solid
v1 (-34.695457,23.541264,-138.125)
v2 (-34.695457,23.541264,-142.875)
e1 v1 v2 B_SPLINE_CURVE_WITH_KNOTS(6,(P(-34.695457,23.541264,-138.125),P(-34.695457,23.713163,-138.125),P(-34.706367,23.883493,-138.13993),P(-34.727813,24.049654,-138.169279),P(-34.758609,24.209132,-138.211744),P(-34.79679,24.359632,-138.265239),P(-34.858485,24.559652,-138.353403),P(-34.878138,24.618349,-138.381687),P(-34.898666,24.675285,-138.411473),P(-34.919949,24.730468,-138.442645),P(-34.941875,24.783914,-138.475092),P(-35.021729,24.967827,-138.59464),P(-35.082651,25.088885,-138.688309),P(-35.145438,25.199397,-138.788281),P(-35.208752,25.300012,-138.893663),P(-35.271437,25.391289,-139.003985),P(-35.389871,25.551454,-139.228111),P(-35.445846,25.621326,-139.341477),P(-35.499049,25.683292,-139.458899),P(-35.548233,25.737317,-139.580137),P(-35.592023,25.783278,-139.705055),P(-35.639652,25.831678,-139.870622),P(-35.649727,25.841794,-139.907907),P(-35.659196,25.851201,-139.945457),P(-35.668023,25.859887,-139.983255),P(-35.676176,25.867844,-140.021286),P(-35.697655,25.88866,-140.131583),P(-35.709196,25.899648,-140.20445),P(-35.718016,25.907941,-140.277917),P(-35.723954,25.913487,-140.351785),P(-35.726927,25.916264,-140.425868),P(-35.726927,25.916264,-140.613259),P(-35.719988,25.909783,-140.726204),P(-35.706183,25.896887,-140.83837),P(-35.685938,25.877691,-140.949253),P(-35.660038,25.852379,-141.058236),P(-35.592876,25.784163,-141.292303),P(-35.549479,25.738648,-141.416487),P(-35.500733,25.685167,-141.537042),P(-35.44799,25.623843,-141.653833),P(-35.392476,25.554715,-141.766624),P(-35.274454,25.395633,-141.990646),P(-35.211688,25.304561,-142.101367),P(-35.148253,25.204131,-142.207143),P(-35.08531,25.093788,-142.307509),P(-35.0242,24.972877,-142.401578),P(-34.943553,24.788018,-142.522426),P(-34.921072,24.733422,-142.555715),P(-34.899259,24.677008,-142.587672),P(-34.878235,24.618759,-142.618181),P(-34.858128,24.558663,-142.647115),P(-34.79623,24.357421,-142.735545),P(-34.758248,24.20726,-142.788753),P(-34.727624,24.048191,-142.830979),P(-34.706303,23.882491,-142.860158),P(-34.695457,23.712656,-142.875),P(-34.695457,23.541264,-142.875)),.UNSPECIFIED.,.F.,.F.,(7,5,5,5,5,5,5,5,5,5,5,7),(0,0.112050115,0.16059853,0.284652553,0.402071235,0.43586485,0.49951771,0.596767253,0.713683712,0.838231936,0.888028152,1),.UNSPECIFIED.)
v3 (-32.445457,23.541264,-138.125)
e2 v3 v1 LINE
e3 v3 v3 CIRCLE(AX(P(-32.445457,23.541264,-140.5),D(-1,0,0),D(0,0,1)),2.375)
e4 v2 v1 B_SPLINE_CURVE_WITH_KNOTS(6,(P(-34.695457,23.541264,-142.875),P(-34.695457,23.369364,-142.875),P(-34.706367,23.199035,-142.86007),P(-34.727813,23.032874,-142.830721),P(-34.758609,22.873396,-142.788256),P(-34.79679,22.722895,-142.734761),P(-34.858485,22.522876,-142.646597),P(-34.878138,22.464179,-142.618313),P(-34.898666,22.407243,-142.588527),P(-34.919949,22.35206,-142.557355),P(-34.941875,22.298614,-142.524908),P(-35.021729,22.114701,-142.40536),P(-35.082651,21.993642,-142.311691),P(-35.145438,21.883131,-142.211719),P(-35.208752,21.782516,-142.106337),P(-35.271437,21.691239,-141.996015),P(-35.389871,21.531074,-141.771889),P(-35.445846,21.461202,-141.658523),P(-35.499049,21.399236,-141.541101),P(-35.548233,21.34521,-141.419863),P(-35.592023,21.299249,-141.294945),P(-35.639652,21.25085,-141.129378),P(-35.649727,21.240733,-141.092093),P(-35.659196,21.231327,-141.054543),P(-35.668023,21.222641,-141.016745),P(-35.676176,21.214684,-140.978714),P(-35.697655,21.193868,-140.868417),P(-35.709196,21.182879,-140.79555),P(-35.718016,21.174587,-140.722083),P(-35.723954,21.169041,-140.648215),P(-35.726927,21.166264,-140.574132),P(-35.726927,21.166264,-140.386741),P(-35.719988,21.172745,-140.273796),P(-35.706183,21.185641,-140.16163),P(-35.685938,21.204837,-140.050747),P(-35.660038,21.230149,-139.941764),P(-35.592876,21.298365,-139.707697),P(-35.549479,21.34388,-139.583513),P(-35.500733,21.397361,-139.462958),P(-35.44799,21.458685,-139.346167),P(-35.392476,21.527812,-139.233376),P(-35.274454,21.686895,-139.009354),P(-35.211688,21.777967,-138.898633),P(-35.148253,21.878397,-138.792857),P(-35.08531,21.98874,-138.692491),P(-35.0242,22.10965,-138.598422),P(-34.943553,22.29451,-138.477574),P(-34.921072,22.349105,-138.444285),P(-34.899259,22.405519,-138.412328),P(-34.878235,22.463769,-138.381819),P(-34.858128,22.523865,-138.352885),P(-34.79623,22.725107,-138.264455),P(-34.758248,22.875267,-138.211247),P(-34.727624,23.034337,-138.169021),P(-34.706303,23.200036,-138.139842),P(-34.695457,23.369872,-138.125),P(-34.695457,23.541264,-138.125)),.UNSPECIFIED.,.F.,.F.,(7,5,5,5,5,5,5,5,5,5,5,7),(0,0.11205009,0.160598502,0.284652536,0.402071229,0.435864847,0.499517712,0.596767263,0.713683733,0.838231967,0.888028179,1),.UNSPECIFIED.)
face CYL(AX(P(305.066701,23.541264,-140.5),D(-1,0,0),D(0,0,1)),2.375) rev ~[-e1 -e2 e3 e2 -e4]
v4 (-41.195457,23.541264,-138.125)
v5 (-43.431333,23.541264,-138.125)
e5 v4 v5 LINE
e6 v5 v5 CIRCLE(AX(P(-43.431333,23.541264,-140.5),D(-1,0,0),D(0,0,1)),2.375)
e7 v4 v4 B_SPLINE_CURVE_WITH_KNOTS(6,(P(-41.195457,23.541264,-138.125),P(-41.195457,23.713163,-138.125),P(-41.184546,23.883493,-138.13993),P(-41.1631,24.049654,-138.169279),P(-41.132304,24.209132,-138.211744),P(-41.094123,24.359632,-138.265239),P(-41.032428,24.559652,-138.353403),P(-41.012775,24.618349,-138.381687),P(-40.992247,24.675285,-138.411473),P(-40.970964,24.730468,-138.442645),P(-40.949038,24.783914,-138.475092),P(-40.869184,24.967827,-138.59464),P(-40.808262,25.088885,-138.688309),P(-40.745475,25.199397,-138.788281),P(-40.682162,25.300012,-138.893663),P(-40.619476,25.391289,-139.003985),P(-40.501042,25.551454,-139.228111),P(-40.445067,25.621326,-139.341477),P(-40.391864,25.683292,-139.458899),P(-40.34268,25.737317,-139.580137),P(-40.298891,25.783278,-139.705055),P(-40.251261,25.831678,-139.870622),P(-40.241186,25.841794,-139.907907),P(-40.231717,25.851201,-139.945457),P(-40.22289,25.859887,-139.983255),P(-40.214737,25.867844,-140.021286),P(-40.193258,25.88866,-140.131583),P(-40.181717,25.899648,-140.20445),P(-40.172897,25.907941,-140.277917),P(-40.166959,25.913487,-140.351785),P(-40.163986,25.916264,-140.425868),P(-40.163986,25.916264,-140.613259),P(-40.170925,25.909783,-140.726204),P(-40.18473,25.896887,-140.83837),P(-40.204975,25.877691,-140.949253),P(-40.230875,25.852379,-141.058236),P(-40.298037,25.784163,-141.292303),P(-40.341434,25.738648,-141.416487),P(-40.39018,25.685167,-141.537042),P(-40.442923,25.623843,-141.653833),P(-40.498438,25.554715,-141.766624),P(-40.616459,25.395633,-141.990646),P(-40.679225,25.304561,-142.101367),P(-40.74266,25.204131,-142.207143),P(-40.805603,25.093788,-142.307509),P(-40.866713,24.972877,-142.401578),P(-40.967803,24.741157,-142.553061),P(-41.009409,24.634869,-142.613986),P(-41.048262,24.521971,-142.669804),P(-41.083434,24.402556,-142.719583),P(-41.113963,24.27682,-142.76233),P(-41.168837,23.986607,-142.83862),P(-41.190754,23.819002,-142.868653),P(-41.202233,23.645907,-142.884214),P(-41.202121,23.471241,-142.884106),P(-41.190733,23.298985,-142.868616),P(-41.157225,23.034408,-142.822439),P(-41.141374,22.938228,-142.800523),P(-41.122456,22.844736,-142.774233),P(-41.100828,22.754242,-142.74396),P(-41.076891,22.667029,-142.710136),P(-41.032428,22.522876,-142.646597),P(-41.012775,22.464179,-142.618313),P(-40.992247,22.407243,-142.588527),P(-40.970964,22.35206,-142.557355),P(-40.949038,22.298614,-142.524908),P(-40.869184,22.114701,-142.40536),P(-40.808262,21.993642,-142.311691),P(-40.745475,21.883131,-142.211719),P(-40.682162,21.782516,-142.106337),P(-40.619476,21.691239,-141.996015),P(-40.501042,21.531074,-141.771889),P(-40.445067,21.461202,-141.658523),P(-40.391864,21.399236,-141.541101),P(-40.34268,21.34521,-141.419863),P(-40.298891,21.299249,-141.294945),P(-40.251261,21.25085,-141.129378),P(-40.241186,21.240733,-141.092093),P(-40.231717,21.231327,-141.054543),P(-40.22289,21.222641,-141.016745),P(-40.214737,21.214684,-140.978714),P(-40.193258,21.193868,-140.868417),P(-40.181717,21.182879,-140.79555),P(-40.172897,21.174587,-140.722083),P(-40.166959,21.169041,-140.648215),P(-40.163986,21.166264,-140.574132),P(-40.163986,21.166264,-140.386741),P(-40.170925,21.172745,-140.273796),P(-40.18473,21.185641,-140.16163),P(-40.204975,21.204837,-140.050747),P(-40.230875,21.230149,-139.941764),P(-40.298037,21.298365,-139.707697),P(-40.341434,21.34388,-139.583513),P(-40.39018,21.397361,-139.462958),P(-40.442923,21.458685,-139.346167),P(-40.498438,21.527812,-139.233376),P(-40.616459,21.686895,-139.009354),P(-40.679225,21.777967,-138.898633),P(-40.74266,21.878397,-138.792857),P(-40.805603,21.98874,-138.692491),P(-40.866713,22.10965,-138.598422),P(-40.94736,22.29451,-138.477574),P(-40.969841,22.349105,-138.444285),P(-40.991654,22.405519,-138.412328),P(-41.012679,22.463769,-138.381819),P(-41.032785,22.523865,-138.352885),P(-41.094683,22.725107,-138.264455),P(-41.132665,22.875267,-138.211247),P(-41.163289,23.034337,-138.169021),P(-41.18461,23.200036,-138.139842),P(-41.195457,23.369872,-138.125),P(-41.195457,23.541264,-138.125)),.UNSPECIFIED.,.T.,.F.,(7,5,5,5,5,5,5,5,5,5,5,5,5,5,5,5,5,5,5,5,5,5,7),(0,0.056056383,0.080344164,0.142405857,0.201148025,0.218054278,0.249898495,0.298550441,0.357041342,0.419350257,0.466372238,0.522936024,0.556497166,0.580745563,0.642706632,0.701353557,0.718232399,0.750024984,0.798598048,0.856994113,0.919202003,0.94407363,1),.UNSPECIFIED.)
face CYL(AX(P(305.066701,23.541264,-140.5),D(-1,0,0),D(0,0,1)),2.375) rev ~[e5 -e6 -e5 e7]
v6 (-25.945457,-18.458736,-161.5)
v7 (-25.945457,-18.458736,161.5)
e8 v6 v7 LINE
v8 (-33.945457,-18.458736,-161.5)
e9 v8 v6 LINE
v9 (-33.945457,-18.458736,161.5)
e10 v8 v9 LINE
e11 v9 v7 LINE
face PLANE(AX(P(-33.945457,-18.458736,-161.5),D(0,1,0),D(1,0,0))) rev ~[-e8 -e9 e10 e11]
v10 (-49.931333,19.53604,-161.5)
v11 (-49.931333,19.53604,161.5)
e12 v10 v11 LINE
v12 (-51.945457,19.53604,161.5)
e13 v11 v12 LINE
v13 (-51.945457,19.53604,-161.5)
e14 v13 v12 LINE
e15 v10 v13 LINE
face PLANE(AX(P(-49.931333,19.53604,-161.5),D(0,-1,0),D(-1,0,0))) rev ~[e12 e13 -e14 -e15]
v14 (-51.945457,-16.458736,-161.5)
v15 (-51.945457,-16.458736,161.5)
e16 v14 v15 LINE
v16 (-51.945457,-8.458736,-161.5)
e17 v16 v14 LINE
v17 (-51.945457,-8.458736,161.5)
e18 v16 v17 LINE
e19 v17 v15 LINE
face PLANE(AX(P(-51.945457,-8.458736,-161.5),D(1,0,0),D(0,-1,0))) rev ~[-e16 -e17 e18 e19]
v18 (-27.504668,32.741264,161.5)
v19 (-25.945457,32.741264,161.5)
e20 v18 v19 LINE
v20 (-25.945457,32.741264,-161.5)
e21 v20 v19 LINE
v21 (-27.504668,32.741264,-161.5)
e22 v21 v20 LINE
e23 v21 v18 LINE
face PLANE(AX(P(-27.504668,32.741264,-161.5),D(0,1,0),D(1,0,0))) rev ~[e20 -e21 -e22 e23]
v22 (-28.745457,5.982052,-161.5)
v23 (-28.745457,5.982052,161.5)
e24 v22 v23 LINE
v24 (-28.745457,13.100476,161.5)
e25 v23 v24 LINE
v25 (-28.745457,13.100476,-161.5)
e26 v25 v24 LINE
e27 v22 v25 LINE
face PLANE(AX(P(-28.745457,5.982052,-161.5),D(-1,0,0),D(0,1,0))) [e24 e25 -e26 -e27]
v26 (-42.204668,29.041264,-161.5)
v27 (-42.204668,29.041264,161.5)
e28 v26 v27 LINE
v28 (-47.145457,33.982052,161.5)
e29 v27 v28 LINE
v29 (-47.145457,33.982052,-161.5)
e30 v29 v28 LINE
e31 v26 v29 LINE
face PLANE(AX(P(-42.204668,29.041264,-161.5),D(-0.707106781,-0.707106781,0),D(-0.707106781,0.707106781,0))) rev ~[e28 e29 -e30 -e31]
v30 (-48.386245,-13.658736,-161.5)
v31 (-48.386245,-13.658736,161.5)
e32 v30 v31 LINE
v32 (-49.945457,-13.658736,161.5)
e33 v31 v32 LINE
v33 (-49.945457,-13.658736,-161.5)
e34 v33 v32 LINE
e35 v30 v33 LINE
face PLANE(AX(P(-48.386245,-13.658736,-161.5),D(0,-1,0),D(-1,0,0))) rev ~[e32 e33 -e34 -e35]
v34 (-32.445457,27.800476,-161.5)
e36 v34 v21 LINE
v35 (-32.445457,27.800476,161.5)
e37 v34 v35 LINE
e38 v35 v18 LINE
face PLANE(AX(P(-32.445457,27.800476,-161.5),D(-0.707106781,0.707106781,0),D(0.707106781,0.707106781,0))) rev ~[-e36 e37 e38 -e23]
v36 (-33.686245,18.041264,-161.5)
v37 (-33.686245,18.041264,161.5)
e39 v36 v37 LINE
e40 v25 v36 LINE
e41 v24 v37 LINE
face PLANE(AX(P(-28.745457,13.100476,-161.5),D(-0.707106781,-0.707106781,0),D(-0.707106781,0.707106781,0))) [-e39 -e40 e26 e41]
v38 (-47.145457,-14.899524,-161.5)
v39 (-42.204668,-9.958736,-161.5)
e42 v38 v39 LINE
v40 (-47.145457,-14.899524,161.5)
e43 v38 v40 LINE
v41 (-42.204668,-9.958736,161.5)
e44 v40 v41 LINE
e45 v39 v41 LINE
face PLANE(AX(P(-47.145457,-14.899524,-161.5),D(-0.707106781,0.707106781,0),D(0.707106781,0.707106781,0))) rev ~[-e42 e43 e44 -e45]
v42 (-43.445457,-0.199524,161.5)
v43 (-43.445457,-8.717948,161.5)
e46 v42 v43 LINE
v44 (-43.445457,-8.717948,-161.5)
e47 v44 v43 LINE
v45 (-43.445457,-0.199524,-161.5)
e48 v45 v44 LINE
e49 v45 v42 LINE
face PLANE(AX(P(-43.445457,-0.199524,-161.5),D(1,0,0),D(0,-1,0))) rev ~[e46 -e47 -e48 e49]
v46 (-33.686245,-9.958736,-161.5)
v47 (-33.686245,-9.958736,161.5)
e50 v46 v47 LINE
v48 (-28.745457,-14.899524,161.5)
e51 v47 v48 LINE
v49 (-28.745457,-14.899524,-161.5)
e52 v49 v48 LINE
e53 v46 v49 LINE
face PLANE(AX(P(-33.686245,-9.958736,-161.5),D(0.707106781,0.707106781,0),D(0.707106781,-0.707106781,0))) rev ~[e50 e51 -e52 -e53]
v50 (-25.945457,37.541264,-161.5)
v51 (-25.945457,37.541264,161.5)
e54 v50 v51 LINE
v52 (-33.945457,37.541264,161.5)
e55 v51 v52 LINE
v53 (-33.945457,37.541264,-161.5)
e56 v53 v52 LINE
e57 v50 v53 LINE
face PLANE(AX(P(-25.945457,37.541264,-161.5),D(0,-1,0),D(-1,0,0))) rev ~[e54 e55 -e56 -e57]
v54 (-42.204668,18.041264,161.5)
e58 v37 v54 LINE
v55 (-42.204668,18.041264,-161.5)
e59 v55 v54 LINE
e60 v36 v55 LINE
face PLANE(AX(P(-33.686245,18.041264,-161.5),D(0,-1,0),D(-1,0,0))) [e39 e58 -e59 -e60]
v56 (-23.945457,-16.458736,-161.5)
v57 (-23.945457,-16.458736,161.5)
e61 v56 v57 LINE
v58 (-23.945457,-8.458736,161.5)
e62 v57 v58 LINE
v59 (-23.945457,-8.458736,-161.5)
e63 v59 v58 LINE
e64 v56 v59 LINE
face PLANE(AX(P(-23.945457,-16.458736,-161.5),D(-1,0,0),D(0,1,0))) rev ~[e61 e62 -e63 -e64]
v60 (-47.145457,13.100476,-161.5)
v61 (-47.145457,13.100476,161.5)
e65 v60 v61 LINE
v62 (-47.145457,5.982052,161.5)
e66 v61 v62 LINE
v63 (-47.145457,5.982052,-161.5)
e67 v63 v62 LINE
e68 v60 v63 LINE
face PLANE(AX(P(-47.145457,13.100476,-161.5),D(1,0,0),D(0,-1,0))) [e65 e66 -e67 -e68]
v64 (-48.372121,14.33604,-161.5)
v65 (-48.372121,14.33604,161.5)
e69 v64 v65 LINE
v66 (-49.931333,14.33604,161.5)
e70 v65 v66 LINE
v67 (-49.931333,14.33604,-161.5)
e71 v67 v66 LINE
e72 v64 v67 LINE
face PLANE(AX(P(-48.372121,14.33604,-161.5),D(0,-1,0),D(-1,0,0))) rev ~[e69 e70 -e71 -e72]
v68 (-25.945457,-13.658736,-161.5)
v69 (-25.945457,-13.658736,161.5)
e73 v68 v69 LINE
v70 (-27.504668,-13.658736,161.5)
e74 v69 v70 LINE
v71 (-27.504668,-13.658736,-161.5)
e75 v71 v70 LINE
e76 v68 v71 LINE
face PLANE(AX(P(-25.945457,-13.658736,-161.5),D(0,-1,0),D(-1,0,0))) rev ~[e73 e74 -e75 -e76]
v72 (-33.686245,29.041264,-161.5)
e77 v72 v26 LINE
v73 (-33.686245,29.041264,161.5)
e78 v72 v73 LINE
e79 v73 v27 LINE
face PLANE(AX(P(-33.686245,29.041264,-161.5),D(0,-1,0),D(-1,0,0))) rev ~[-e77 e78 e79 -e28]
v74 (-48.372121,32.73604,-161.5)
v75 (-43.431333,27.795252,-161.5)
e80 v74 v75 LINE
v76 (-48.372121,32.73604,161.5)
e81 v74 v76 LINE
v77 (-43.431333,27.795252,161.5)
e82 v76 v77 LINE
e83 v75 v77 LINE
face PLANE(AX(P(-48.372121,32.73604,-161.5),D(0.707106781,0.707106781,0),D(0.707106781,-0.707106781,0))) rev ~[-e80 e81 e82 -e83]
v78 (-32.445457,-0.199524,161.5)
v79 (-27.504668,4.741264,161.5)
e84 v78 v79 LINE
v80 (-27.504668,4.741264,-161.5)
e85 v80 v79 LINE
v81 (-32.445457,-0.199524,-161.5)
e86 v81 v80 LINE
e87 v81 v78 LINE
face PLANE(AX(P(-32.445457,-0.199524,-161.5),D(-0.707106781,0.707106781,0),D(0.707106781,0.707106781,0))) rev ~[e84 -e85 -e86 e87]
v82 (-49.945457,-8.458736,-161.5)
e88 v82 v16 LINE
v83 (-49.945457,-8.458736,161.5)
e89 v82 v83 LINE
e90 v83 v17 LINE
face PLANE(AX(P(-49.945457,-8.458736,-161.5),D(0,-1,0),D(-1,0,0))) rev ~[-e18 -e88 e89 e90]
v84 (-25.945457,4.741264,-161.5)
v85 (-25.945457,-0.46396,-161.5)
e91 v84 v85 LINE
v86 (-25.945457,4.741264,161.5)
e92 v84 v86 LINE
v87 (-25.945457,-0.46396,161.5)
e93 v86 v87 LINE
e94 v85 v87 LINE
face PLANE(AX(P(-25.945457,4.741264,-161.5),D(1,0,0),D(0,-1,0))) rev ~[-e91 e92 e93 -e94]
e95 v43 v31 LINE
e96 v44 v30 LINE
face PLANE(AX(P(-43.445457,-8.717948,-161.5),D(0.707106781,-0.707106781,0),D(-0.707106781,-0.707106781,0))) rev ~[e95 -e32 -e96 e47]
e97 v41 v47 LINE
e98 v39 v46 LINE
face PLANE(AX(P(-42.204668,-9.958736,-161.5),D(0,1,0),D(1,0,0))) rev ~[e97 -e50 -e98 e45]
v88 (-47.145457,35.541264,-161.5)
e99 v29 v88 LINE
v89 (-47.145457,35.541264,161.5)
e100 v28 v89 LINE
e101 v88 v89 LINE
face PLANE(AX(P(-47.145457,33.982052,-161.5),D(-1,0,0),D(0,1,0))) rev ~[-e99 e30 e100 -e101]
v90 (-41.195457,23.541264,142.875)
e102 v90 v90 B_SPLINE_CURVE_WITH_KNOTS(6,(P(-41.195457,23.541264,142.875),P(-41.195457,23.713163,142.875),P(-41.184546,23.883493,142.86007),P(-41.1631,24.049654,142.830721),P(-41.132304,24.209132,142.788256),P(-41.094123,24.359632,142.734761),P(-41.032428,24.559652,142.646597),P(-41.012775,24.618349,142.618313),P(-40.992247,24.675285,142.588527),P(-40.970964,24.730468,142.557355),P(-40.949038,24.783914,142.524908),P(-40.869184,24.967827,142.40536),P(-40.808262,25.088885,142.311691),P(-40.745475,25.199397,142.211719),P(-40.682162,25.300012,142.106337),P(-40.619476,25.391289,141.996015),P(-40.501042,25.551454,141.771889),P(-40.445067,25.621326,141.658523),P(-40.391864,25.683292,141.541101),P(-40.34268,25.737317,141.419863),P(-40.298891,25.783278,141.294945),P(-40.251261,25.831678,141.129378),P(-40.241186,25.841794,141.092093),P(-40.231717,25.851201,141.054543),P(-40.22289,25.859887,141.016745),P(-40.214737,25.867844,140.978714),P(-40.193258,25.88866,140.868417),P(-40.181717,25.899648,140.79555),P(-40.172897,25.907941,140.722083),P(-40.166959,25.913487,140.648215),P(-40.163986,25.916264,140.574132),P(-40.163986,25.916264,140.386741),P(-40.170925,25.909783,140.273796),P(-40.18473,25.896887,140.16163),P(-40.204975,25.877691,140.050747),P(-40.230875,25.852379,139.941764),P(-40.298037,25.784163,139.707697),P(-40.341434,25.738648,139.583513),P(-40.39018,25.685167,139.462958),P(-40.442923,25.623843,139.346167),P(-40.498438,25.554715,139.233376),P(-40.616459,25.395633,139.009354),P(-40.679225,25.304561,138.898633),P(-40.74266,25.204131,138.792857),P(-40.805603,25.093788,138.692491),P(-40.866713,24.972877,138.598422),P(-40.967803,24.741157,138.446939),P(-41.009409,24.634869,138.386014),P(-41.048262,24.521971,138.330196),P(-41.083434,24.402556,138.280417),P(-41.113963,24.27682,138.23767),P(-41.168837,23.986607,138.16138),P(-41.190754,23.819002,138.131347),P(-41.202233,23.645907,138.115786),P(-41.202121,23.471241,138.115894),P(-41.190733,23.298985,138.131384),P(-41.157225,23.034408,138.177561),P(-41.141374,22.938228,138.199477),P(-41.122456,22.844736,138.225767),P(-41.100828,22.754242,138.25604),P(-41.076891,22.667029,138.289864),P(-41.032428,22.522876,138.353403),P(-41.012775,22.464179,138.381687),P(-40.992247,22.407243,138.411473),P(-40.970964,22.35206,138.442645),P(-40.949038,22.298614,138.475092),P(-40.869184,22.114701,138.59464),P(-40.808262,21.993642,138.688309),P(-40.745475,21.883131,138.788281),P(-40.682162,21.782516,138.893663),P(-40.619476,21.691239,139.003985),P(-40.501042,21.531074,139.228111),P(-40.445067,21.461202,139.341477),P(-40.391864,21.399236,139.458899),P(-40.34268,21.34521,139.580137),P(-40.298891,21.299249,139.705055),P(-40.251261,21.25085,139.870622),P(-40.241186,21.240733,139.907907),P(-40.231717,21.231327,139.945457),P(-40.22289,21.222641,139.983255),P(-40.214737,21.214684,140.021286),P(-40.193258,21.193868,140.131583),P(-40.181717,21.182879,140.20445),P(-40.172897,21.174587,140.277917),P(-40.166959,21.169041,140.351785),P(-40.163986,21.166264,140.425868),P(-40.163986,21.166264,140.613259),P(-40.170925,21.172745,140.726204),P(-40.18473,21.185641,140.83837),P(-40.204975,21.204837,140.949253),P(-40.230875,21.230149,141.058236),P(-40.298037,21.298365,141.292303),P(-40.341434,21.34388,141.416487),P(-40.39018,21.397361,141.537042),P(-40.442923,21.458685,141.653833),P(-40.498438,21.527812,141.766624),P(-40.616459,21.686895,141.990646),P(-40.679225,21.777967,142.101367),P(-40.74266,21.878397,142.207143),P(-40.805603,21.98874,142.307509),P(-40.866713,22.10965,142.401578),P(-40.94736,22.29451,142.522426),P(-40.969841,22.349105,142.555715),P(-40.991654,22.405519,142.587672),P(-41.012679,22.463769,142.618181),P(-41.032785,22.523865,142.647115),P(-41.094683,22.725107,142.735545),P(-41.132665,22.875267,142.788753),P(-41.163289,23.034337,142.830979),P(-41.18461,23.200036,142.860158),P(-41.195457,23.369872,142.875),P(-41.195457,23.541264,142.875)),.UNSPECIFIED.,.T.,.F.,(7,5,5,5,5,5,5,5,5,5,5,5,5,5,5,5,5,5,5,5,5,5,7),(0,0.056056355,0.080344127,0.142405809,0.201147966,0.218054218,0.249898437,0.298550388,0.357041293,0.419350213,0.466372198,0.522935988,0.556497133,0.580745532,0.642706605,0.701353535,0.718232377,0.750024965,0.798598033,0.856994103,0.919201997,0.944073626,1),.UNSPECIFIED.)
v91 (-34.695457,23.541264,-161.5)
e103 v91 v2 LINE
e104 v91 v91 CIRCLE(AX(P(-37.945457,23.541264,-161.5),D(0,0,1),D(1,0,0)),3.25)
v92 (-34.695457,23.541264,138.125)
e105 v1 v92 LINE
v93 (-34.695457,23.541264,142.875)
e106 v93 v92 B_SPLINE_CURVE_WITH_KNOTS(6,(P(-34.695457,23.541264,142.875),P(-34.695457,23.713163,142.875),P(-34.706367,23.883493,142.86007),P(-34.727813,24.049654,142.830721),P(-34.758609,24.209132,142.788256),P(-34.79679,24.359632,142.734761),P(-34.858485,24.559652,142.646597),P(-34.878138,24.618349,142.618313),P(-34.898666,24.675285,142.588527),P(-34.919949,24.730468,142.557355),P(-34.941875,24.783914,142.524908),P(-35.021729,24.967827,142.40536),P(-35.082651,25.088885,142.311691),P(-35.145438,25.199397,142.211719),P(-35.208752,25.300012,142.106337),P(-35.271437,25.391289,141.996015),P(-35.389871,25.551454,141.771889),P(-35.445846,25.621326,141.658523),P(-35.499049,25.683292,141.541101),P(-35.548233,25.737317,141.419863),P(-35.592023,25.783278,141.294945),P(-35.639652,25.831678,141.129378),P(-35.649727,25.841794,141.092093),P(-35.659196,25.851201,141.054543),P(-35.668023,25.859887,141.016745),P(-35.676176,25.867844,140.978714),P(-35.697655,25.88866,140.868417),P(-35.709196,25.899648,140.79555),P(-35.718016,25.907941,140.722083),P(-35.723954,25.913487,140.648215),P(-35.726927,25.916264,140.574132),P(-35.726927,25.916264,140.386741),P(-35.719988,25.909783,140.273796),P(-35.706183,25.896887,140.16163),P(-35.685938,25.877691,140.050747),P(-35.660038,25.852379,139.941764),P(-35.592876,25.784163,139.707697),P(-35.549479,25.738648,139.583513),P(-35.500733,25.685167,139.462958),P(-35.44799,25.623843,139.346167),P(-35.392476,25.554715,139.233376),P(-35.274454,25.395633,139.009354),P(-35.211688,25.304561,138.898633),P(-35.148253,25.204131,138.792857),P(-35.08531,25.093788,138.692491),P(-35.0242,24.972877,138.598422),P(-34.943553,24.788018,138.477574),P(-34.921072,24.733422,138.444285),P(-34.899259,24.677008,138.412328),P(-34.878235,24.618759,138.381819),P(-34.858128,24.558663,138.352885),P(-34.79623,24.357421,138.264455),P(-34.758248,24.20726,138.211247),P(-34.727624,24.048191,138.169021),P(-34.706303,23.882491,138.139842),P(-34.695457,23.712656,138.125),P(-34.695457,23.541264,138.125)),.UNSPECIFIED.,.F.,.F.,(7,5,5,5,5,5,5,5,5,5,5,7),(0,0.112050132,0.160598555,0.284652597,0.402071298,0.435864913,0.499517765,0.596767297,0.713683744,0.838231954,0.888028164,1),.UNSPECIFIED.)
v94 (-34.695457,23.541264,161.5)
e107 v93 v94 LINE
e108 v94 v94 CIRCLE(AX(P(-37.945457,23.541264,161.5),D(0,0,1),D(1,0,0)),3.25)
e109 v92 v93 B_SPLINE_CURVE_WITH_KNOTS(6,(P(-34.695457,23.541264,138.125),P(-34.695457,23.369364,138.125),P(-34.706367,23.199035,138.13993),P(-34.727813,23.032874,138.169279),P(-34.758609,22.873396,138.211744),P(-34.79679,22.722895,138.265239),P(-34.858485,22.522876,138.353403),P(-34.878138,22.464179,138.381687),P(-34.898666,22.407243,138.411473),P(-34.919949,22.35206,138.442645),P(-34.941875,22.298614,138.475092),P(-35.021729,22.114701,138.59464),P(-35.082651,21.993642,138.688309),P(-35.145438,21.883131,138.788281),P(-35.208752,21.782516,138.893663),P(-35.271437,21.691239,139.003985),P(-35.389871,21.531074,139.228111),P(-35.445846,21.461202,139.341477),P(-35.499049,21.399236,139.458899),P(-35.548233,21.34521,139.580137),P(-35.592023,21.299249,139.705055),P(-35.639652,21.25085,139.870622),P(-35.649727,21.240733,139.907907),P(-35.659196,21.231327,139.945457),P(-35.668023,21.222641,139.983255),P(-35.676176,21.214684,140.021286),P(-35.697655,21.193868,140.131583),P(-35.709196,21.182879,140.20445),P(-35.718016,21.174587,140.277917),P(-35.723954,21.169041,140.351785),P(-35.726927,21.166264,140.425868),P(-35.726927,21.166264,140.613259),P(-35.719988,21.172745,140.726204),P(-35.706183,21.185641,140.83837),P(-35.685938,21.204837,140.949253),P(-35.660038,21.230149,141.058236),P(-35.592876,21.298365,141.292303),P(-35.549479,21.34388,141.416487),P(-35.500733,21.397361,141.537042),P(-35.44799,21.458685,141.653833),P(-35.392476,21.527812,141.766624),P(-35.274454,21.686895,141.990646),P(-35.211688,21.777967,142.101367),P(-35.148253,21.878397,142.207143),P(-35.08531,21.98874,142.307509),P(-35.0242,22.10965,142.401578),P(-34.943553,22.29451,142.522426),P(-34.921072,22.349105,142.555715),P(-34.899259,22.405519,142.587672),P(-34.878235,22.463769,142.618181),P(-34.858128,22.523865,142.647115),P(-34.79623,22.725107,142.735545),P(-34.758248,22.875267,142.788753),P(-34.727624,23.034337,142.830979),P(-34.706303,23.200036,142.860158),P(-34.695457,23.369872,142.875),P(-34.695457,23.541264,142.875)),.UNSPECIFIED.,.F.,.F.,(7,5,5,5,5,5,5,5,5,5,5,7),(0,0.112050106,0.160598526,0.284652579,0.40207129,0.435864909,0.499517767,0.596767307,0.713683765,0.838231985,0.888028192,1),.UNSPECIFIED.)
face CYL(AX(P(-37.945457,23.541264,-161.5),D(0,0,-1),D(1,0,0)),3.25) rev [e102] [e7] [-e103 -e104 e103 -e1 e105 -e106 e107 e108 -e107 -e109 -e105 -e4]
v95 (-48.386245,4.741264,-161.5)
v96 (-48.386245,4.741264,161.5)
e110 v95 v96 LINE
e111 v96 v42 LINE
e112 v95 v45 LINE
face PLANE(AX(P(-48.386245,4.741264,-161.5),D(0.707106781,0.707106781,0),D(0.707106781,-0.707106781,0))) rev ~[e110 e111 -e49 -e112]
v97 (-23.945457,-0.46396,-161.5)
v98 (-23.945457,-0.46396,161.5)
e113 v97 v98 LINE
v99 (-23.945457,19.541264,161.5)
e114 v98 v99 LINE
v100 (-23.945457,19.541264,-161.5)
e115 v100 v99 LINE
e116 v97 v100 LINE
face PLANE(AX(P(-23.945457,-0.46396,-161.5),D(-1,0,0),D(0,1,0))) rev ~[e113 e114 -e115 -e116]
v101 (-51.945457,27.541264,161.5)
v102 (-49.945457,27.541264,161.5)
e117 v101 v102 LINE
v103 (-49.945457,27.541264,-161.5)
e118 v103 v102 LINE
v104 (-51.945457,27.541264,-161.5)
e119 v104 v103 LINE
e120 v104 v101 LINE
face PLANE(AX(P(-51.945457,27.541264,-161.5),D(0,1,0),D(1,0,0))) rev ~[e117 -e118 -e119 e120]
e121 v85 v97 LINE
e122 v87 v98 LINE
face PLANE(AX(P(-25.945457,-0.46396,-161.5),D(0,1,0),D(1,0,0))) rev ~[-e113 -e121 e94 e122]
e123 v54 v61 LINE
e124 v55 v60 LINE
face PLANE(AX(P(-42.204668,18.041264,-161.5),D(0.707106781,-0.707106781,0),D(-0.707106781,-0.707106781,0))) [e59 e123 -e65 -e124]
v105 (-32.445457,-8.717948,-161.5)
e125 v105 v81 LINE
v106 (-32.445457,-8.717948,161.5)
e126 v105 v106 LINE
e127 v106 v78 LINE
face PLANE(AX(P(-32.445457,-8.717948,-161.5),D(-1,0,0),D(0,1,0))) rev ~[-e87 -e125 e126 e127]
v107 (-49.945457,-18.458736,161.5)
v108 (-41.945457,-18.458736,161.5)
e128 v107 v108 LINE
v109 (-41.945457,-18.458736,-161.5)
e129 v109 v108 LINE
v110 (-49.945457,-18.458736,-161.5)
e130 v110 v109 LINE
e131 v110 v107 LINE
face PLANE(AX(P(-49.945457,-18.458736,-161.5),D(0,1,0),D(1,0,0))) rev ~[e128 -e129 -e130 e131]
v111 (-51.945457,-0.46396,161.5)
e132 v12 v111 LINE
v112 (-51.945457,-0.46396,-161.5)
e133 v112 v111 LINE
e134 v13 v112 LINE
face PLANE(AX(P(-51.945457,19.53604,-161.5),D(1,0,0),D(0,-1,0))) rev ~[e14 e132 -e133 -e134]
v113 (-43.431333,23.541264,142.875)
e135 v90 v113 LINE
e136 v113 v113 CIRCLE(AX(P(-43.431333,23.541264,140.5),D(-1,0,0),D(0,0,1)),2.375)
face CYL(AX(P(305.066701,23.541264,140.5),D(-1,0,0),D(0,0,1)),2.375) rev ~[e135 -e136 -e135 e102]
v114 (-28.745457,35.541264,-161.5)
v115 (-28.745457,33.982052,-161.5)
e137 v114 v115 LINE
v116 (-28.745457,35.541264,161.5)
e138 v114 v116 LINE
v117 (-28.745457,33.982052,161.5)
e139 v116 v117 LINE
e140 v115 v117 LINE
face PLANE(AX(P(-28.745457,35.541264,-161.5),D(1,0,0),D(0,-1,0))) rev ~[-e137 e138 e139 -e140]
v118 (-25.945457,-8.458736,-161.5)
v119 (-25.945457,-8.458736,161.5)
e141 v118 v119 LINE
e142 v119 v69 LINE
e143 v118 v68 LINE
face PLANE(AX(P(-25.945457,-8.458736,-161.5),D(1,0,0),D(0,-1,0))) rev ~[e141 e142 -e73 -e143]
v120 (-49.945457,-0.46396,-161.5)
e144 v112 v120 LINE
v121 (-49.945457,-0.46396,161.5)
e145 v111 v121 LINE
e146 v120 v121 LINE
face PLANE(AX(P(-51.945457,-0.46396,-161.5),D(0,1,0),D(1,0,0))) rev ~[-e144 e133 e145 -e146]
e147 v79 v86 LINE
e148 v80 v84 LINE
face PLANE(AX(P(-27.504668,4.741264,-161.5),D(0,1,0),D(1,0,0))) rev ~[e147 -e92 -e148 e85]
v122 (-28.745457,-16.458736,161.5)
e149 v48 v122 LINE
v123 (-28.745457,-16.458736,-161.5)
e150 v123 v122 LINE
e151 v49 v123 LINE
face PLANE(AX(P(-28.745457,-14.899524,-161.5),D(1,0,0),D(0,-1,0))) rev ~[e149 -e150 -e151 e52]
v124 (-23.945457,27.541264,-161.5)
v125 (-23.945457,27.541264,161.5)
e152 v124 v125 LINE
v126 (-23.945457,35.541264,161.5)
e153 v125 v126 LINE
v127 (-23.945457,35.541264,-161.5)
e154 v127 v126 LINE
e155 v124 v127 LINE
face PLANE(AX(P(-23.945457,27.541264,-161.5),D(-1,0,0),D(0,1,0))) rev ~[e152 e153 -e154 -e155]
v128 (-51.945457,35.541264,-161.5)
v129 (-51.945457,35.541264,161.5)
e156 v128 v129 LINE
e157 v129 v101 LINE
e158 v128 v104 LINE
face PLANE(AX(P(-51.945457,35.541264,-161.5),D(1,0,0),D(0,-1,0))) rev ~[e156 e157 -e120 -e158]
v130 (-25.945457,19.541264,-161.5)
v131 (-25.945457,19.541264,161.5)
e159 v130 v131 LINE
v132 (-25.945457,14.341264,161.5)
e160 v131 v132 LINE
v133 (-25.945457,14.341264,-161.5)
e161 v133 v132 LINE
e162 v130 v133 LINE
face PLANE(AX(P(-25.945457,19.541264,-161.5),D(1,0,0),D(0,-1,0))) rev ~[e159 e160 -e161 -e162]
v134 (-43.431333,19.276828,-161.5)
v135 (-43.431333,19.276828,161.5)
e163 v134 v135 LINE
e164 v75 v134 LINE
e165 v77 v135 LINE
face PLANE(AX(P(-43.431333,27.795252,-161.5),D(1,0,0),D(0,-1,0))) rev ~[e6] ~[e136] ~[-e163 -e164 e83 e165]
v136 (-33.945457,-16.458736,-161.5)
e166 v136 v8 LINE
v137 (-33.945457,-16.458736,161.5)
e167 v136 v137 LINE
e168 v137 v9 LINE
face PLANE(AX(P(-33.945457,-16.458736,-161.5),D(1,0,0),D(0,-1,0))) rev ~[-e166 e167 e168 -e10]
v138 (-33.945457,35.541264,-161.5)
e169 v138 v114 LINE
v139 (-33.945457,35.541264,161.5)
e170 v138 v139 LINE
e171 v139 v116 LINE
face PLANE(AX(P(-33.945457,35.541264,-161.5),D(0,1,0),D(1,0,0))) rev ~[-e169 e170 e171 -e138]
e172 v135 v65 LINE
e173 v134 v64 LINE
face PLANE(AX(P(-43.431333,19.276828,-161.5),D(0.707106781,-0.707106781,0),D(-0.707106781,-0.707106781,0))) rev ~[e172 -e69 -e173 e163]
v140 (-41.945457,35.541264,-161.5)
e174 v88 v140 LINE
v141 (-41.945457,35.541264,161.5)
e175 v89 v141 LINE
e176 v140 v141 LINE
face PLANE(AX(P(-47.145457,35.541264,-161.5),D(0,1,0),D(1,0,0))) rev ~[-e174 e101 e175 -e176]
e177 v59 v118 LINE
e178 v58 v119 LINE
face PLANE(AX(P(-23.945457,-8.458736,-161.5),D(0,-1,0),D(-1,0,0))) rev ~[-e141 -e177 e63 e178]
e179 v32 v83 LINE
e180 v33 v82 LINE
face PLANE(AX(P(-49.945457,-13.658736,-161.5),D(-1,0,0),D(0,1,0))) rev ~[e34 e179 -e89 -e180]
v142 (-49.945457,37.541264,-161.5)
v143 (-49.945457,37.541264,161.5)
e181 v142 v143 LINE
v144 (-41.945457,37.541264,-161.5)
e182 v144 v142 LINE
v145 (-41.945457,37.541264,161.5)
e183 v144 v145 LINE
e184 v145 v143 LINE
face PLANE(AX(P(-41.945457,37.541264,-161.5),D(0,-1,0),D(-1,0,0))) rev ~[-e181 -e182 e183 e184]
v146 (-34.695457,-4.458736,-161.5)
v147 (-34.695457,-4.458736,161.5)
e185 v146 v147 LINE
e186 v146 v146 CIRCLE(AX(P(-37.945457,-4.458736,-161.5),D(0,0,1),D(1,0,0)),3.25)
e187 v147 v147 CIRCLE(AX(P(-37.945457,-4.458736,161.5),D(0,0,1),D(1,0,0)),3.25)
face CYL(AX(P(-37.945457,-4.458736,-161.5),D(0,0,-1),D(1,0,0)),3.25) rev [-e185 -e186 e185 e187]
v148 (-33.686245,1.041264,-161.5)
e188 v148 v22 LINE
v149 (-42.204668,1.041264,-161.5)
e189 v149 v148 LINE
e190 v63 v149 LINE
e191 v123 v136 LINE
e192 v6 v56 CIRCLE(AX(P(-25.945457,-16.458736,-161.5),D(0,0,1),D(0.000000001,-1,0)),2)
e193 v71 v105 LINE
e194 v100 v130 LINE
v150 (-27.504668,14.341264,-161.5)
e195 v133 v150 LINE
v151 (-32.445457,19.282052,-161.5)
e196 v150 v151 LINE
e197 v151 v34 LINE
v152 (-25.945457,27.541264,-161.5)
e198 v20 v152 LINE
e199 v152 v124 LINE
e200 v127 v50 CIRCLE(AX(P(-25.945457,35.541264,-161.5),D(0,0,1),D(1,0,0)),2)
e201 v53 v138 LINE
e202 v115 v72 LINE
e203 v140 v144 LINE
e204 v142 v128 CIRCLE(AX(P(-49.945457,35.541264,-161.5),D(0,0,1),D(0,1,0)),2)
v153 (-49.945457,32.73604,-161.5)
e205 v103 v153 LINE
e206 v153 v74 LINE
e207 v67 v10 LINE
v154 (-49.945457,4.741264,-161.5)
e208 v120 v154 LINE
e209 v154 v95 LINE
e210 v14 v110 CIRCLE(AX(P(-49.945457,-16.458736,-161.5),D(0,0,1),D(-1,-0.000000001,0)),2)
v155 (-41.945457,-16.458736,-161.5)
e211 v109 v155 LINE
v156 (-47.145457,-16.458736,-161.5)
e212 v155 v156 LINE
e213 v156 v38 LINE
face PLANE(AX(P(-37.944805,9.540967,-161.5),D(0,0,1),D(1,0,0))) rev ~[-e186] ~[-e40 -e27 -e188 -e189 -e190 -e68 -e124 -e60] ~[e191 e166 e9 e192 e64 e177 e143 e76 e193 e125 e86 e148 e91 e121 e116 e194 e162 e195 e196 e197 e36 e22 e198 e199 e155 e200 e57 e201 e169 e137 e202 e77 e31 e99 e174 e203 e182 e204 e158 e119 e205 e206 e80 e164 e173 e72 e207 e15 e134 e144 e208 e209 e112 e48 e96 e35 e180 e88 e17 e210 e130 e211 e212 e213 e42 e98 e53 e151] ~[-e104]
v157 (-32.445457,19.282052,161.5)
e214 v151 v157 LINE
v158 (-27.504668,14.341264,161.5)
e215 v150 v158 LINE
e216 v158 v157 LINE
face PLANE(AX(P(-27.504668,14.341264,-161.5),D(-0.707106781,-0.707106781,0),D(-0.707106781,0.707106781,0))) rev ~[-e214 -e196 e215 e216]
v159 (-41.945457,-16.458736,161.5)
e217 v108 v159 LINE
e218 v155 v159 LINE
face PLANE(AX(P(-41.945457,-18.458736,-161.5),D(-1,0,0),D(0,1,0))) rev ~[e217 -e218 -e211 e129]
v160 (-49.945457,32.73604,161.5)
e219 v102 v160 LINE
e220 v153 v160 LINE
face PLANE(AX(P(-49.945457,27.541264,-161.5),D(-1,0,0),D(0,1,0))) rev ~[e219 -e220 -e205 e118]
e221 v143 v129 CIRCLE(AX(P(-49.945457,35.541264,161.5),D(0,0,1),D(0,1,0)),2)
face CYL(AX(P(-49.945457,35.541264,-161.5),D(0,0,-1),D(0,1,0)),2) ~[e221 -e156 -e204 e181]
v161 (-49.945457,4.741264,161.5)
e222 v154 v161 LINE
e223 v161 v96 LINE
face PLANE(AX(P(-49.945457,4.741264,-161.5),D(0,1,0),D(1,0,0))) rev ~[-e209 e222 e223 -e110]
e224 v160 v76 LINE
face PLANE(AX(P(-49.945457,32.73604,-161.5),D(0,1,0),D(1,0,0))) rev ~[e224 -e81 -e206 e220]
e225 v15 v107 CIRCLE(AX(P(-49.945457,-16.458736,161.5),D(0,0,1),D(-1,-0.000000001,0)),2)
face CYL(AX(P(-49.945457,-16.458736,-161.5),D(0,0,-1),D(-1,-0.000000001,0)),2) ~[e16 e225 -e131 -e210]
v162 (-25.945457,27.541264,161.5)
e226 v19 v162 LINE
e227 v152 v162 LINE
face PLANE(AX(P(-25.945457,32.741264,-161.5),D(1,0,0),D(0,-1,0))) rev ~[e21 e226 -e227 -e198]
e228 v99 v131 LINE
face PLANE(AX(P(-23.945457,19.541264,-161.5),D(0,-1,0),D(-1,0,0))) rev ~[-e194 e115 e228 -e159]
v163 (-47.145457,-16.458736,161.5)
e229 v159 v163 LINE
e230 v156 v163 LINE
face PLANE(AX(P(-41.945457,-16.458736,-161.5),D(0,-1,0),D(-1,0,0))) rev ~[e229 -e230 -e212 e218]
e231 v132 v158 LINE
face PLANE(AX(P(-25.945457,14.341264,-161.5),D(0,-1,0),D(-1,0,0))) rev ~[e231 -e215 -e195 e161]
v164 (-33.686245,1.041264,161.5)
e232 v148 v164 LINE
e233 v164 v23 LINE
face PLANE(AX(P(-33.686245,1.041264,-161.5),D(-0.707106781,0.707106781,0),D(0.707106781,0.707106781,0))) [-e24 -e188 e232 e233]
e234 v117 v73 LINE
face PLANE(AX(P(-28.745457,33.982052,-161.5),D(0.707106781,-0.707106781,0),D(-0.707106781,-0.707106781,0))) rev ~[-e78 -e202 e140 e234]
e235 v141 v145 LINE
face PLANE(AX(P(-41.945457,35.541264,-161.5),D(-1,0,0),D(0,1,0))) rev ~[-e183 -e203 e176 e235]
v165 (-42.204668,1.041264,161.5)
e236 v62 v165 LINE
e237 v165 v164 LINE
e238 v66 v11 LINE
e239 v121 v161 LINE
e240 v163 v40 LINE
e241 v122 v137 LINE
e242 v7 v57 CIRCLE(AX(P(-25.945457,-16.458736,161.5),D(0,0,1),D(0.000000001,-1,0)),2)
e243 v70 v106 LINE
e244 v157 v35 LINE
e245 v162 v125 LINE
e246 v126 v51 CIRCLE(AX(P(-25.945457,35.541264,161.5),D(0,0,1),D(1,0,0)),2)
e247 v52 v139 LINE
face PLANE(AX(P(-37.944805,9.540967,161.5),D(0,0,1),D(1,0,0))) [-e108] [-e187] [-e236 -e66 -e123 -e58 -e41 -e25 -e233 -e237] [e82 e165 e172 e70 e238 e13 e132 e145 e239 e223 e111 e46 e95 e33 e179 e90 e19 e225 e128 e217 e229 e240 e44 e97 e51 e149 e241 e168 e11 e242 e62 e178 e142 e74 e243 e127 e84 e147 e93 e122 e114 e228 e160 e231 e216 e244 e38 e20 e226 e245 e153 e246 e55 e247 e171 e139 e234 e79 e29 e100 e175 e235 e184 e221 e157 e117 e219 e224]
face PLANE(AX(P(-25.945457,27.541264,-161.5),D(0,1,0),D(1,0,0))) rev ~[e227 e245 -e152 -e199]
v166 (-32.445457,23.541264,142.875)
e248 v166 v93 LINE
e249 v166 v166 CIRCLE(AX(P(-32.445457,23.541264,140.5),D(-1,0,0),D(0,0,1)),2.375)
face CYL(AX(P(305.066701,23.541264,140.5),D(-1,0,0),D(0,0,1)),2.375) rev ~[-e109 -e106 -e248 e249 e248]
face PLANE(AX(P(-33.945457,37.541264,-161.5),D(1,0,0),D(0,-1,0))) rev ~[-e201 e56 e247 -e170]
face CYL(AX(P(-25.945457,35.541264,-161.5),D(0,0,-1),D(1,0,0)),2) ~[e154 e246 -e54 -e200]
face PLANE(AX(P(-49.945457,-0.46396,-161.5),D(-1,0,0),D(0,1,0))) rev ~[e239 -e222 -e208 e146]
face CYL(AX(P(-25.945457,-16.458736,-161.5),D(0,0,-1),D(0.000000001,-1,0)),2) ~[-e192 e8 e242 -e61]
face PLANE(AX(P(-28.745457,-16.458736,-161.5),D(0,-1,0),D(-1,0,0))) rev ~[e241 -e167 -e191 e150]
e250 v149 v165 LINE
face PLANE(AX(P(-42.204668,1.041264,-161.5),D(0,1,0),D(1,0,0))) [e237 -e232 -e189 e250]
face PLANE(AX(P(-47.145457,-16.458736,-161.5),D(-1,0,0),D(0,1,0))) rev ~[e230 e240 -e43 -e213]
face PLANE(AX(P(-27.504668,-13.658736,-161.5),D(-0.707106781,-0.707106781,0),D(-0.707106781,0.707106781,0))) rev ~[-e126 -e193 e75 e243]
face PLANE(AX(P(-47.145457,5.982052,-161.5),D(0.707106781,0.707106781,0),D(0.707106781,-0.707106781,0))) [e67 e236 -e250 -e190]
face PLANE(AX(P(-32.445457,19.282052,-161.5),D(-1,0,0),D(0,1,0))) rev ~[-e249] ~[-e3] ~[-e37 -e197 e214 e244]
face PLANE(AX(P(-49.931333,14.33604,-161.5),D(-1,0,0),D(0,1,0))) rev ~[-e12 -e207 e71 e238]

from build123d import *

# Parameters (mm, degrees)
EXTRUSION2_DEPTH           = 161.5
EXTRUSION2_DEPTH_BACK      = 161.5
SKETCH1_R                  = 3.25
F_4_7_4_7_DIAMETER_HOLE1_D = 4.75


with BuildPart() as part:
    # Sketch1 → Extrusion2 (new, two sides: drawn at the far end of the back side and taken through both)
    with BuildSketch(Plane.XY.offset(-EXTRUSION2_DEPTH_BACK)):
        with BuildLine():
            Line((-51.945456549, 19.536039976), (-51.945456549, -0.463960024))
            Line((-51.945456549, -0.463960024), (-49.945456549, -0.463960024))
            Line((-49.945456549, -0.463960024), (-49.945456549, 4.741263919))
            Line((-49.945456549, 4.741263919), (-48.386244669, 4.741263919))
            Line((-48.386244669, 4.741263919), (-43.445456549, -0.1995242))
            Line((-43.445456549, -0.1995242), (-43.445456549, -8.717947961))
            Line((-43.445456549, -8.717947961), (-48.386244669, -13.658736081))
            Line((-48.386244669, -13.658736081), (-49.945456549, -13.658736081))
            Line((-49.945456549, -13.658736081), (-49.945456549, -8.458736081))
            Line((-49.945456549, -8.458736081), (-51.945456549, -8.458736081))
            Line((-51.945456549, -8.458736081), (-51.945456549, -16.458736081))
            ThreePointArc((-51.945456549, -16.458736081), (-51.359670111, -17.872949643), (-49.945456549, -18.458736081))
            Line((-49.945456549, -18.458736081), (-41.945456549, -18.458736081))
            Line((-41.945456549, -18.458736081), (-41.945456549, -16.458736081))
            Line((-41.945456549, -16.458736081), (-47.145456549, -16.458736081))
            Line((-47.145456549, -16.458736081), (-47.145456549, -14.8995242))
            Line((-47.145456549, -14.8995242), (-42.204668429, -9.958736081))
            Line((-42.204668429, -9.958736081), (-33.686244669, -9.958736081))
            Line((-33.686244669, -9.958736081), (-28.745456549, -14.8995242))
            Line((-28.745456549, -14.8995242), (-28.745456549, -16.458736081))
            Line((-28.745456549, -16.458736081), (-33.945456549, -16.458736081))
            Line((-33.945456549, -16.458736081), (-33.945456549, -18.458736081))
            Line((-33.945456549, -18.458736081), (-25.945456549, -18.458736081))
            ThreePointArc((-25.945456549, -18.458736081), (-24.531242987, -17.872949643), (-23.945456549, -16.458736081))
            Line((-23.945456549, -16.458736081), (-23.945456549, -8.458736081))
            Line((-23.945456549, -8.458736081), (-25.945456549, -8.458736081))
            Line((-25.945456549, -8.458736081), (-25.945456549, -13.658736081))
            Line((-25.945456549, -13.658736081), (-27.504668429, -13.658736081))
            Line((-27.504668429, -13.658736081), (-32.445456549, -8.717947961))
            Line((-32.445456549, -8.717947961), (-32.445456549, -0.1995242))
            Line((-32.445456549, -0.1995242), (-27.504668429, 4.741263919))
            Line((-27.504668429, 4.741263919), (-25.945456549, 4.741263919))
            Line((-25.945456549, 4.741263919), (-25.945456549, -0.463960024))
            Line((-25.945456549, -0.463960024), (-23.945456549, -0.463960024))
            Line((-23.945456549, -0.463960024), (-23.945456549, 19.541263919))
            Line((-23.945456549, 19.541263919), (-25.945456549, 19.541263919))
            Line((-25.945456549, 19.541263919), (-25.945456549, 14.341263919))
            Line((-25.945456549, 14.341263919), (-27.504668429, 14.341263919))
            Line((-27.504668429, 14.341263919), (-32.445456549, 19.282052039))
            Line((-32.445456549, 19.282052039), (-32.445456549, 27.8004758))
            Line((-32.445456549, 27.8004758), (-27.504668429, 32.741263919))
            Line((-27.504668429, 32.741263919), (-25.945456549, 32.741263919))
            Line((-25.945456549, 32.741263919), (-25.945456549, 27.541263919))
            Line((-25.945456549, 27.541263919), (-23.945456549, 27.541263919))
            Line((-23.945456549, 27.541263919), (-23.945456549, 35.541263919))
            ThreePointArc((-23.945456549, 35.541263919), (-24.531242987, 36.955477482), (-25.945456549, 37.541263919))
            Line((-25.945456549, 37.541263919), (-33.945456549, 37.541263919))
            Line((-33.945456549, 37.541263919), (-33.945456549, 35.541263919))
            Line((-33.945456549, 35.541263919), (-28.745456549, 35.541263919))
            Line((-28.745456549, 35.541263919), (-28.745456549, 33.982052039))
            Line((-28.745456549, 33.982052039), (-33.686244669, 29.041263919))
            Line((-33.686244669, 29.041263919), (-42.204668429, 29.041263919))
            Line((-42.204668429, 29.041263919), (-47.145456549, 33.982052039))
            Line((-47.145456549, 33.982052039), (-47.145456549, 35.541263919))
            Line((-47.145456549, 35.541263919), (-41.945456549, 35.541263919))
            Line((-41.945456549, 35.541263919), (-41.945456549, 37.541263919))
            Line((-41.945456549, 37.541263919), (-49.945456549, 37.541263919))
            ThreePointArc((-49.945456549, 37.541263919), (-51.359670111, 36.955477482), (-51.945456549, 35.541263919))
            Line((-51.945456549, 35.541263919), (-51.945456549, 27.541263919))
            Line((-51.945456549, 27.541263919), (-49.945456549, 27.541263919))
            Line((-49.945456549, 27.541263919), (-49.945456549, 32.736039976))
            Line((-49.945456549, 32.736039976), (-48.372120999, 32.736039976))
            Line((-48.372120999, 32.736039976), (-43.43133288, 27.795251856))
            Line((-43.43133288, 27.795251856), (-43.43133288, 19.276828096))
            Line((-43.43133288, 19.276828096), (-48.372120999, 14.336039976))
            Line((-48.372120999, 14.336039976), (-49.93133288, 14.336039976))
            Line((-49.93133288, 14.336039976), (-49.93133288, 19.536039976))
            Line((-49.93133288, 19.536039976), (-51.945456549, 19.536039976))
        make_face()
        with Locations((-37.945456549, -4.458736081)):
            Circle(SKETCH1_R, mode=Mode.SUBTRACT)
        with Locations((-37.945456549, 23.541263919)):
            Circle(SKETCH1_R, mode=Mode.SUBTRACT)
        Polygon((-33.686244669, 18.041263919), (-42.204668429, 18.041263919), (-47.145456549, 13.1004758), (-47.145456549, 5.982052039), (-42.204668429, 1.041263919), (-33.686244669, 1.041263919), (-28.745456549, 5.982052039), (-28.745456549, 13.1004758), align=None, mode=Mode.SUBTRACT)
    extrude(amount=EXTRUSION2_DEPTH + EXTRUSION2_DEPTH_BACK)

    # Ø4.7 (4.7) Diameter Hole1 (through all)
    with Locations(Plane(origin=(-23.945456549, 0, 0), x_dir=(0, 0, -1), z_dir=(1, 0, 0))):
        with Locations((-140.5, 23.541263919), (140.5, 23.541263919)):
            Hole(F_4_7_4_7_DIAMETER_HOLE1_D / 2)


solid = part.part
